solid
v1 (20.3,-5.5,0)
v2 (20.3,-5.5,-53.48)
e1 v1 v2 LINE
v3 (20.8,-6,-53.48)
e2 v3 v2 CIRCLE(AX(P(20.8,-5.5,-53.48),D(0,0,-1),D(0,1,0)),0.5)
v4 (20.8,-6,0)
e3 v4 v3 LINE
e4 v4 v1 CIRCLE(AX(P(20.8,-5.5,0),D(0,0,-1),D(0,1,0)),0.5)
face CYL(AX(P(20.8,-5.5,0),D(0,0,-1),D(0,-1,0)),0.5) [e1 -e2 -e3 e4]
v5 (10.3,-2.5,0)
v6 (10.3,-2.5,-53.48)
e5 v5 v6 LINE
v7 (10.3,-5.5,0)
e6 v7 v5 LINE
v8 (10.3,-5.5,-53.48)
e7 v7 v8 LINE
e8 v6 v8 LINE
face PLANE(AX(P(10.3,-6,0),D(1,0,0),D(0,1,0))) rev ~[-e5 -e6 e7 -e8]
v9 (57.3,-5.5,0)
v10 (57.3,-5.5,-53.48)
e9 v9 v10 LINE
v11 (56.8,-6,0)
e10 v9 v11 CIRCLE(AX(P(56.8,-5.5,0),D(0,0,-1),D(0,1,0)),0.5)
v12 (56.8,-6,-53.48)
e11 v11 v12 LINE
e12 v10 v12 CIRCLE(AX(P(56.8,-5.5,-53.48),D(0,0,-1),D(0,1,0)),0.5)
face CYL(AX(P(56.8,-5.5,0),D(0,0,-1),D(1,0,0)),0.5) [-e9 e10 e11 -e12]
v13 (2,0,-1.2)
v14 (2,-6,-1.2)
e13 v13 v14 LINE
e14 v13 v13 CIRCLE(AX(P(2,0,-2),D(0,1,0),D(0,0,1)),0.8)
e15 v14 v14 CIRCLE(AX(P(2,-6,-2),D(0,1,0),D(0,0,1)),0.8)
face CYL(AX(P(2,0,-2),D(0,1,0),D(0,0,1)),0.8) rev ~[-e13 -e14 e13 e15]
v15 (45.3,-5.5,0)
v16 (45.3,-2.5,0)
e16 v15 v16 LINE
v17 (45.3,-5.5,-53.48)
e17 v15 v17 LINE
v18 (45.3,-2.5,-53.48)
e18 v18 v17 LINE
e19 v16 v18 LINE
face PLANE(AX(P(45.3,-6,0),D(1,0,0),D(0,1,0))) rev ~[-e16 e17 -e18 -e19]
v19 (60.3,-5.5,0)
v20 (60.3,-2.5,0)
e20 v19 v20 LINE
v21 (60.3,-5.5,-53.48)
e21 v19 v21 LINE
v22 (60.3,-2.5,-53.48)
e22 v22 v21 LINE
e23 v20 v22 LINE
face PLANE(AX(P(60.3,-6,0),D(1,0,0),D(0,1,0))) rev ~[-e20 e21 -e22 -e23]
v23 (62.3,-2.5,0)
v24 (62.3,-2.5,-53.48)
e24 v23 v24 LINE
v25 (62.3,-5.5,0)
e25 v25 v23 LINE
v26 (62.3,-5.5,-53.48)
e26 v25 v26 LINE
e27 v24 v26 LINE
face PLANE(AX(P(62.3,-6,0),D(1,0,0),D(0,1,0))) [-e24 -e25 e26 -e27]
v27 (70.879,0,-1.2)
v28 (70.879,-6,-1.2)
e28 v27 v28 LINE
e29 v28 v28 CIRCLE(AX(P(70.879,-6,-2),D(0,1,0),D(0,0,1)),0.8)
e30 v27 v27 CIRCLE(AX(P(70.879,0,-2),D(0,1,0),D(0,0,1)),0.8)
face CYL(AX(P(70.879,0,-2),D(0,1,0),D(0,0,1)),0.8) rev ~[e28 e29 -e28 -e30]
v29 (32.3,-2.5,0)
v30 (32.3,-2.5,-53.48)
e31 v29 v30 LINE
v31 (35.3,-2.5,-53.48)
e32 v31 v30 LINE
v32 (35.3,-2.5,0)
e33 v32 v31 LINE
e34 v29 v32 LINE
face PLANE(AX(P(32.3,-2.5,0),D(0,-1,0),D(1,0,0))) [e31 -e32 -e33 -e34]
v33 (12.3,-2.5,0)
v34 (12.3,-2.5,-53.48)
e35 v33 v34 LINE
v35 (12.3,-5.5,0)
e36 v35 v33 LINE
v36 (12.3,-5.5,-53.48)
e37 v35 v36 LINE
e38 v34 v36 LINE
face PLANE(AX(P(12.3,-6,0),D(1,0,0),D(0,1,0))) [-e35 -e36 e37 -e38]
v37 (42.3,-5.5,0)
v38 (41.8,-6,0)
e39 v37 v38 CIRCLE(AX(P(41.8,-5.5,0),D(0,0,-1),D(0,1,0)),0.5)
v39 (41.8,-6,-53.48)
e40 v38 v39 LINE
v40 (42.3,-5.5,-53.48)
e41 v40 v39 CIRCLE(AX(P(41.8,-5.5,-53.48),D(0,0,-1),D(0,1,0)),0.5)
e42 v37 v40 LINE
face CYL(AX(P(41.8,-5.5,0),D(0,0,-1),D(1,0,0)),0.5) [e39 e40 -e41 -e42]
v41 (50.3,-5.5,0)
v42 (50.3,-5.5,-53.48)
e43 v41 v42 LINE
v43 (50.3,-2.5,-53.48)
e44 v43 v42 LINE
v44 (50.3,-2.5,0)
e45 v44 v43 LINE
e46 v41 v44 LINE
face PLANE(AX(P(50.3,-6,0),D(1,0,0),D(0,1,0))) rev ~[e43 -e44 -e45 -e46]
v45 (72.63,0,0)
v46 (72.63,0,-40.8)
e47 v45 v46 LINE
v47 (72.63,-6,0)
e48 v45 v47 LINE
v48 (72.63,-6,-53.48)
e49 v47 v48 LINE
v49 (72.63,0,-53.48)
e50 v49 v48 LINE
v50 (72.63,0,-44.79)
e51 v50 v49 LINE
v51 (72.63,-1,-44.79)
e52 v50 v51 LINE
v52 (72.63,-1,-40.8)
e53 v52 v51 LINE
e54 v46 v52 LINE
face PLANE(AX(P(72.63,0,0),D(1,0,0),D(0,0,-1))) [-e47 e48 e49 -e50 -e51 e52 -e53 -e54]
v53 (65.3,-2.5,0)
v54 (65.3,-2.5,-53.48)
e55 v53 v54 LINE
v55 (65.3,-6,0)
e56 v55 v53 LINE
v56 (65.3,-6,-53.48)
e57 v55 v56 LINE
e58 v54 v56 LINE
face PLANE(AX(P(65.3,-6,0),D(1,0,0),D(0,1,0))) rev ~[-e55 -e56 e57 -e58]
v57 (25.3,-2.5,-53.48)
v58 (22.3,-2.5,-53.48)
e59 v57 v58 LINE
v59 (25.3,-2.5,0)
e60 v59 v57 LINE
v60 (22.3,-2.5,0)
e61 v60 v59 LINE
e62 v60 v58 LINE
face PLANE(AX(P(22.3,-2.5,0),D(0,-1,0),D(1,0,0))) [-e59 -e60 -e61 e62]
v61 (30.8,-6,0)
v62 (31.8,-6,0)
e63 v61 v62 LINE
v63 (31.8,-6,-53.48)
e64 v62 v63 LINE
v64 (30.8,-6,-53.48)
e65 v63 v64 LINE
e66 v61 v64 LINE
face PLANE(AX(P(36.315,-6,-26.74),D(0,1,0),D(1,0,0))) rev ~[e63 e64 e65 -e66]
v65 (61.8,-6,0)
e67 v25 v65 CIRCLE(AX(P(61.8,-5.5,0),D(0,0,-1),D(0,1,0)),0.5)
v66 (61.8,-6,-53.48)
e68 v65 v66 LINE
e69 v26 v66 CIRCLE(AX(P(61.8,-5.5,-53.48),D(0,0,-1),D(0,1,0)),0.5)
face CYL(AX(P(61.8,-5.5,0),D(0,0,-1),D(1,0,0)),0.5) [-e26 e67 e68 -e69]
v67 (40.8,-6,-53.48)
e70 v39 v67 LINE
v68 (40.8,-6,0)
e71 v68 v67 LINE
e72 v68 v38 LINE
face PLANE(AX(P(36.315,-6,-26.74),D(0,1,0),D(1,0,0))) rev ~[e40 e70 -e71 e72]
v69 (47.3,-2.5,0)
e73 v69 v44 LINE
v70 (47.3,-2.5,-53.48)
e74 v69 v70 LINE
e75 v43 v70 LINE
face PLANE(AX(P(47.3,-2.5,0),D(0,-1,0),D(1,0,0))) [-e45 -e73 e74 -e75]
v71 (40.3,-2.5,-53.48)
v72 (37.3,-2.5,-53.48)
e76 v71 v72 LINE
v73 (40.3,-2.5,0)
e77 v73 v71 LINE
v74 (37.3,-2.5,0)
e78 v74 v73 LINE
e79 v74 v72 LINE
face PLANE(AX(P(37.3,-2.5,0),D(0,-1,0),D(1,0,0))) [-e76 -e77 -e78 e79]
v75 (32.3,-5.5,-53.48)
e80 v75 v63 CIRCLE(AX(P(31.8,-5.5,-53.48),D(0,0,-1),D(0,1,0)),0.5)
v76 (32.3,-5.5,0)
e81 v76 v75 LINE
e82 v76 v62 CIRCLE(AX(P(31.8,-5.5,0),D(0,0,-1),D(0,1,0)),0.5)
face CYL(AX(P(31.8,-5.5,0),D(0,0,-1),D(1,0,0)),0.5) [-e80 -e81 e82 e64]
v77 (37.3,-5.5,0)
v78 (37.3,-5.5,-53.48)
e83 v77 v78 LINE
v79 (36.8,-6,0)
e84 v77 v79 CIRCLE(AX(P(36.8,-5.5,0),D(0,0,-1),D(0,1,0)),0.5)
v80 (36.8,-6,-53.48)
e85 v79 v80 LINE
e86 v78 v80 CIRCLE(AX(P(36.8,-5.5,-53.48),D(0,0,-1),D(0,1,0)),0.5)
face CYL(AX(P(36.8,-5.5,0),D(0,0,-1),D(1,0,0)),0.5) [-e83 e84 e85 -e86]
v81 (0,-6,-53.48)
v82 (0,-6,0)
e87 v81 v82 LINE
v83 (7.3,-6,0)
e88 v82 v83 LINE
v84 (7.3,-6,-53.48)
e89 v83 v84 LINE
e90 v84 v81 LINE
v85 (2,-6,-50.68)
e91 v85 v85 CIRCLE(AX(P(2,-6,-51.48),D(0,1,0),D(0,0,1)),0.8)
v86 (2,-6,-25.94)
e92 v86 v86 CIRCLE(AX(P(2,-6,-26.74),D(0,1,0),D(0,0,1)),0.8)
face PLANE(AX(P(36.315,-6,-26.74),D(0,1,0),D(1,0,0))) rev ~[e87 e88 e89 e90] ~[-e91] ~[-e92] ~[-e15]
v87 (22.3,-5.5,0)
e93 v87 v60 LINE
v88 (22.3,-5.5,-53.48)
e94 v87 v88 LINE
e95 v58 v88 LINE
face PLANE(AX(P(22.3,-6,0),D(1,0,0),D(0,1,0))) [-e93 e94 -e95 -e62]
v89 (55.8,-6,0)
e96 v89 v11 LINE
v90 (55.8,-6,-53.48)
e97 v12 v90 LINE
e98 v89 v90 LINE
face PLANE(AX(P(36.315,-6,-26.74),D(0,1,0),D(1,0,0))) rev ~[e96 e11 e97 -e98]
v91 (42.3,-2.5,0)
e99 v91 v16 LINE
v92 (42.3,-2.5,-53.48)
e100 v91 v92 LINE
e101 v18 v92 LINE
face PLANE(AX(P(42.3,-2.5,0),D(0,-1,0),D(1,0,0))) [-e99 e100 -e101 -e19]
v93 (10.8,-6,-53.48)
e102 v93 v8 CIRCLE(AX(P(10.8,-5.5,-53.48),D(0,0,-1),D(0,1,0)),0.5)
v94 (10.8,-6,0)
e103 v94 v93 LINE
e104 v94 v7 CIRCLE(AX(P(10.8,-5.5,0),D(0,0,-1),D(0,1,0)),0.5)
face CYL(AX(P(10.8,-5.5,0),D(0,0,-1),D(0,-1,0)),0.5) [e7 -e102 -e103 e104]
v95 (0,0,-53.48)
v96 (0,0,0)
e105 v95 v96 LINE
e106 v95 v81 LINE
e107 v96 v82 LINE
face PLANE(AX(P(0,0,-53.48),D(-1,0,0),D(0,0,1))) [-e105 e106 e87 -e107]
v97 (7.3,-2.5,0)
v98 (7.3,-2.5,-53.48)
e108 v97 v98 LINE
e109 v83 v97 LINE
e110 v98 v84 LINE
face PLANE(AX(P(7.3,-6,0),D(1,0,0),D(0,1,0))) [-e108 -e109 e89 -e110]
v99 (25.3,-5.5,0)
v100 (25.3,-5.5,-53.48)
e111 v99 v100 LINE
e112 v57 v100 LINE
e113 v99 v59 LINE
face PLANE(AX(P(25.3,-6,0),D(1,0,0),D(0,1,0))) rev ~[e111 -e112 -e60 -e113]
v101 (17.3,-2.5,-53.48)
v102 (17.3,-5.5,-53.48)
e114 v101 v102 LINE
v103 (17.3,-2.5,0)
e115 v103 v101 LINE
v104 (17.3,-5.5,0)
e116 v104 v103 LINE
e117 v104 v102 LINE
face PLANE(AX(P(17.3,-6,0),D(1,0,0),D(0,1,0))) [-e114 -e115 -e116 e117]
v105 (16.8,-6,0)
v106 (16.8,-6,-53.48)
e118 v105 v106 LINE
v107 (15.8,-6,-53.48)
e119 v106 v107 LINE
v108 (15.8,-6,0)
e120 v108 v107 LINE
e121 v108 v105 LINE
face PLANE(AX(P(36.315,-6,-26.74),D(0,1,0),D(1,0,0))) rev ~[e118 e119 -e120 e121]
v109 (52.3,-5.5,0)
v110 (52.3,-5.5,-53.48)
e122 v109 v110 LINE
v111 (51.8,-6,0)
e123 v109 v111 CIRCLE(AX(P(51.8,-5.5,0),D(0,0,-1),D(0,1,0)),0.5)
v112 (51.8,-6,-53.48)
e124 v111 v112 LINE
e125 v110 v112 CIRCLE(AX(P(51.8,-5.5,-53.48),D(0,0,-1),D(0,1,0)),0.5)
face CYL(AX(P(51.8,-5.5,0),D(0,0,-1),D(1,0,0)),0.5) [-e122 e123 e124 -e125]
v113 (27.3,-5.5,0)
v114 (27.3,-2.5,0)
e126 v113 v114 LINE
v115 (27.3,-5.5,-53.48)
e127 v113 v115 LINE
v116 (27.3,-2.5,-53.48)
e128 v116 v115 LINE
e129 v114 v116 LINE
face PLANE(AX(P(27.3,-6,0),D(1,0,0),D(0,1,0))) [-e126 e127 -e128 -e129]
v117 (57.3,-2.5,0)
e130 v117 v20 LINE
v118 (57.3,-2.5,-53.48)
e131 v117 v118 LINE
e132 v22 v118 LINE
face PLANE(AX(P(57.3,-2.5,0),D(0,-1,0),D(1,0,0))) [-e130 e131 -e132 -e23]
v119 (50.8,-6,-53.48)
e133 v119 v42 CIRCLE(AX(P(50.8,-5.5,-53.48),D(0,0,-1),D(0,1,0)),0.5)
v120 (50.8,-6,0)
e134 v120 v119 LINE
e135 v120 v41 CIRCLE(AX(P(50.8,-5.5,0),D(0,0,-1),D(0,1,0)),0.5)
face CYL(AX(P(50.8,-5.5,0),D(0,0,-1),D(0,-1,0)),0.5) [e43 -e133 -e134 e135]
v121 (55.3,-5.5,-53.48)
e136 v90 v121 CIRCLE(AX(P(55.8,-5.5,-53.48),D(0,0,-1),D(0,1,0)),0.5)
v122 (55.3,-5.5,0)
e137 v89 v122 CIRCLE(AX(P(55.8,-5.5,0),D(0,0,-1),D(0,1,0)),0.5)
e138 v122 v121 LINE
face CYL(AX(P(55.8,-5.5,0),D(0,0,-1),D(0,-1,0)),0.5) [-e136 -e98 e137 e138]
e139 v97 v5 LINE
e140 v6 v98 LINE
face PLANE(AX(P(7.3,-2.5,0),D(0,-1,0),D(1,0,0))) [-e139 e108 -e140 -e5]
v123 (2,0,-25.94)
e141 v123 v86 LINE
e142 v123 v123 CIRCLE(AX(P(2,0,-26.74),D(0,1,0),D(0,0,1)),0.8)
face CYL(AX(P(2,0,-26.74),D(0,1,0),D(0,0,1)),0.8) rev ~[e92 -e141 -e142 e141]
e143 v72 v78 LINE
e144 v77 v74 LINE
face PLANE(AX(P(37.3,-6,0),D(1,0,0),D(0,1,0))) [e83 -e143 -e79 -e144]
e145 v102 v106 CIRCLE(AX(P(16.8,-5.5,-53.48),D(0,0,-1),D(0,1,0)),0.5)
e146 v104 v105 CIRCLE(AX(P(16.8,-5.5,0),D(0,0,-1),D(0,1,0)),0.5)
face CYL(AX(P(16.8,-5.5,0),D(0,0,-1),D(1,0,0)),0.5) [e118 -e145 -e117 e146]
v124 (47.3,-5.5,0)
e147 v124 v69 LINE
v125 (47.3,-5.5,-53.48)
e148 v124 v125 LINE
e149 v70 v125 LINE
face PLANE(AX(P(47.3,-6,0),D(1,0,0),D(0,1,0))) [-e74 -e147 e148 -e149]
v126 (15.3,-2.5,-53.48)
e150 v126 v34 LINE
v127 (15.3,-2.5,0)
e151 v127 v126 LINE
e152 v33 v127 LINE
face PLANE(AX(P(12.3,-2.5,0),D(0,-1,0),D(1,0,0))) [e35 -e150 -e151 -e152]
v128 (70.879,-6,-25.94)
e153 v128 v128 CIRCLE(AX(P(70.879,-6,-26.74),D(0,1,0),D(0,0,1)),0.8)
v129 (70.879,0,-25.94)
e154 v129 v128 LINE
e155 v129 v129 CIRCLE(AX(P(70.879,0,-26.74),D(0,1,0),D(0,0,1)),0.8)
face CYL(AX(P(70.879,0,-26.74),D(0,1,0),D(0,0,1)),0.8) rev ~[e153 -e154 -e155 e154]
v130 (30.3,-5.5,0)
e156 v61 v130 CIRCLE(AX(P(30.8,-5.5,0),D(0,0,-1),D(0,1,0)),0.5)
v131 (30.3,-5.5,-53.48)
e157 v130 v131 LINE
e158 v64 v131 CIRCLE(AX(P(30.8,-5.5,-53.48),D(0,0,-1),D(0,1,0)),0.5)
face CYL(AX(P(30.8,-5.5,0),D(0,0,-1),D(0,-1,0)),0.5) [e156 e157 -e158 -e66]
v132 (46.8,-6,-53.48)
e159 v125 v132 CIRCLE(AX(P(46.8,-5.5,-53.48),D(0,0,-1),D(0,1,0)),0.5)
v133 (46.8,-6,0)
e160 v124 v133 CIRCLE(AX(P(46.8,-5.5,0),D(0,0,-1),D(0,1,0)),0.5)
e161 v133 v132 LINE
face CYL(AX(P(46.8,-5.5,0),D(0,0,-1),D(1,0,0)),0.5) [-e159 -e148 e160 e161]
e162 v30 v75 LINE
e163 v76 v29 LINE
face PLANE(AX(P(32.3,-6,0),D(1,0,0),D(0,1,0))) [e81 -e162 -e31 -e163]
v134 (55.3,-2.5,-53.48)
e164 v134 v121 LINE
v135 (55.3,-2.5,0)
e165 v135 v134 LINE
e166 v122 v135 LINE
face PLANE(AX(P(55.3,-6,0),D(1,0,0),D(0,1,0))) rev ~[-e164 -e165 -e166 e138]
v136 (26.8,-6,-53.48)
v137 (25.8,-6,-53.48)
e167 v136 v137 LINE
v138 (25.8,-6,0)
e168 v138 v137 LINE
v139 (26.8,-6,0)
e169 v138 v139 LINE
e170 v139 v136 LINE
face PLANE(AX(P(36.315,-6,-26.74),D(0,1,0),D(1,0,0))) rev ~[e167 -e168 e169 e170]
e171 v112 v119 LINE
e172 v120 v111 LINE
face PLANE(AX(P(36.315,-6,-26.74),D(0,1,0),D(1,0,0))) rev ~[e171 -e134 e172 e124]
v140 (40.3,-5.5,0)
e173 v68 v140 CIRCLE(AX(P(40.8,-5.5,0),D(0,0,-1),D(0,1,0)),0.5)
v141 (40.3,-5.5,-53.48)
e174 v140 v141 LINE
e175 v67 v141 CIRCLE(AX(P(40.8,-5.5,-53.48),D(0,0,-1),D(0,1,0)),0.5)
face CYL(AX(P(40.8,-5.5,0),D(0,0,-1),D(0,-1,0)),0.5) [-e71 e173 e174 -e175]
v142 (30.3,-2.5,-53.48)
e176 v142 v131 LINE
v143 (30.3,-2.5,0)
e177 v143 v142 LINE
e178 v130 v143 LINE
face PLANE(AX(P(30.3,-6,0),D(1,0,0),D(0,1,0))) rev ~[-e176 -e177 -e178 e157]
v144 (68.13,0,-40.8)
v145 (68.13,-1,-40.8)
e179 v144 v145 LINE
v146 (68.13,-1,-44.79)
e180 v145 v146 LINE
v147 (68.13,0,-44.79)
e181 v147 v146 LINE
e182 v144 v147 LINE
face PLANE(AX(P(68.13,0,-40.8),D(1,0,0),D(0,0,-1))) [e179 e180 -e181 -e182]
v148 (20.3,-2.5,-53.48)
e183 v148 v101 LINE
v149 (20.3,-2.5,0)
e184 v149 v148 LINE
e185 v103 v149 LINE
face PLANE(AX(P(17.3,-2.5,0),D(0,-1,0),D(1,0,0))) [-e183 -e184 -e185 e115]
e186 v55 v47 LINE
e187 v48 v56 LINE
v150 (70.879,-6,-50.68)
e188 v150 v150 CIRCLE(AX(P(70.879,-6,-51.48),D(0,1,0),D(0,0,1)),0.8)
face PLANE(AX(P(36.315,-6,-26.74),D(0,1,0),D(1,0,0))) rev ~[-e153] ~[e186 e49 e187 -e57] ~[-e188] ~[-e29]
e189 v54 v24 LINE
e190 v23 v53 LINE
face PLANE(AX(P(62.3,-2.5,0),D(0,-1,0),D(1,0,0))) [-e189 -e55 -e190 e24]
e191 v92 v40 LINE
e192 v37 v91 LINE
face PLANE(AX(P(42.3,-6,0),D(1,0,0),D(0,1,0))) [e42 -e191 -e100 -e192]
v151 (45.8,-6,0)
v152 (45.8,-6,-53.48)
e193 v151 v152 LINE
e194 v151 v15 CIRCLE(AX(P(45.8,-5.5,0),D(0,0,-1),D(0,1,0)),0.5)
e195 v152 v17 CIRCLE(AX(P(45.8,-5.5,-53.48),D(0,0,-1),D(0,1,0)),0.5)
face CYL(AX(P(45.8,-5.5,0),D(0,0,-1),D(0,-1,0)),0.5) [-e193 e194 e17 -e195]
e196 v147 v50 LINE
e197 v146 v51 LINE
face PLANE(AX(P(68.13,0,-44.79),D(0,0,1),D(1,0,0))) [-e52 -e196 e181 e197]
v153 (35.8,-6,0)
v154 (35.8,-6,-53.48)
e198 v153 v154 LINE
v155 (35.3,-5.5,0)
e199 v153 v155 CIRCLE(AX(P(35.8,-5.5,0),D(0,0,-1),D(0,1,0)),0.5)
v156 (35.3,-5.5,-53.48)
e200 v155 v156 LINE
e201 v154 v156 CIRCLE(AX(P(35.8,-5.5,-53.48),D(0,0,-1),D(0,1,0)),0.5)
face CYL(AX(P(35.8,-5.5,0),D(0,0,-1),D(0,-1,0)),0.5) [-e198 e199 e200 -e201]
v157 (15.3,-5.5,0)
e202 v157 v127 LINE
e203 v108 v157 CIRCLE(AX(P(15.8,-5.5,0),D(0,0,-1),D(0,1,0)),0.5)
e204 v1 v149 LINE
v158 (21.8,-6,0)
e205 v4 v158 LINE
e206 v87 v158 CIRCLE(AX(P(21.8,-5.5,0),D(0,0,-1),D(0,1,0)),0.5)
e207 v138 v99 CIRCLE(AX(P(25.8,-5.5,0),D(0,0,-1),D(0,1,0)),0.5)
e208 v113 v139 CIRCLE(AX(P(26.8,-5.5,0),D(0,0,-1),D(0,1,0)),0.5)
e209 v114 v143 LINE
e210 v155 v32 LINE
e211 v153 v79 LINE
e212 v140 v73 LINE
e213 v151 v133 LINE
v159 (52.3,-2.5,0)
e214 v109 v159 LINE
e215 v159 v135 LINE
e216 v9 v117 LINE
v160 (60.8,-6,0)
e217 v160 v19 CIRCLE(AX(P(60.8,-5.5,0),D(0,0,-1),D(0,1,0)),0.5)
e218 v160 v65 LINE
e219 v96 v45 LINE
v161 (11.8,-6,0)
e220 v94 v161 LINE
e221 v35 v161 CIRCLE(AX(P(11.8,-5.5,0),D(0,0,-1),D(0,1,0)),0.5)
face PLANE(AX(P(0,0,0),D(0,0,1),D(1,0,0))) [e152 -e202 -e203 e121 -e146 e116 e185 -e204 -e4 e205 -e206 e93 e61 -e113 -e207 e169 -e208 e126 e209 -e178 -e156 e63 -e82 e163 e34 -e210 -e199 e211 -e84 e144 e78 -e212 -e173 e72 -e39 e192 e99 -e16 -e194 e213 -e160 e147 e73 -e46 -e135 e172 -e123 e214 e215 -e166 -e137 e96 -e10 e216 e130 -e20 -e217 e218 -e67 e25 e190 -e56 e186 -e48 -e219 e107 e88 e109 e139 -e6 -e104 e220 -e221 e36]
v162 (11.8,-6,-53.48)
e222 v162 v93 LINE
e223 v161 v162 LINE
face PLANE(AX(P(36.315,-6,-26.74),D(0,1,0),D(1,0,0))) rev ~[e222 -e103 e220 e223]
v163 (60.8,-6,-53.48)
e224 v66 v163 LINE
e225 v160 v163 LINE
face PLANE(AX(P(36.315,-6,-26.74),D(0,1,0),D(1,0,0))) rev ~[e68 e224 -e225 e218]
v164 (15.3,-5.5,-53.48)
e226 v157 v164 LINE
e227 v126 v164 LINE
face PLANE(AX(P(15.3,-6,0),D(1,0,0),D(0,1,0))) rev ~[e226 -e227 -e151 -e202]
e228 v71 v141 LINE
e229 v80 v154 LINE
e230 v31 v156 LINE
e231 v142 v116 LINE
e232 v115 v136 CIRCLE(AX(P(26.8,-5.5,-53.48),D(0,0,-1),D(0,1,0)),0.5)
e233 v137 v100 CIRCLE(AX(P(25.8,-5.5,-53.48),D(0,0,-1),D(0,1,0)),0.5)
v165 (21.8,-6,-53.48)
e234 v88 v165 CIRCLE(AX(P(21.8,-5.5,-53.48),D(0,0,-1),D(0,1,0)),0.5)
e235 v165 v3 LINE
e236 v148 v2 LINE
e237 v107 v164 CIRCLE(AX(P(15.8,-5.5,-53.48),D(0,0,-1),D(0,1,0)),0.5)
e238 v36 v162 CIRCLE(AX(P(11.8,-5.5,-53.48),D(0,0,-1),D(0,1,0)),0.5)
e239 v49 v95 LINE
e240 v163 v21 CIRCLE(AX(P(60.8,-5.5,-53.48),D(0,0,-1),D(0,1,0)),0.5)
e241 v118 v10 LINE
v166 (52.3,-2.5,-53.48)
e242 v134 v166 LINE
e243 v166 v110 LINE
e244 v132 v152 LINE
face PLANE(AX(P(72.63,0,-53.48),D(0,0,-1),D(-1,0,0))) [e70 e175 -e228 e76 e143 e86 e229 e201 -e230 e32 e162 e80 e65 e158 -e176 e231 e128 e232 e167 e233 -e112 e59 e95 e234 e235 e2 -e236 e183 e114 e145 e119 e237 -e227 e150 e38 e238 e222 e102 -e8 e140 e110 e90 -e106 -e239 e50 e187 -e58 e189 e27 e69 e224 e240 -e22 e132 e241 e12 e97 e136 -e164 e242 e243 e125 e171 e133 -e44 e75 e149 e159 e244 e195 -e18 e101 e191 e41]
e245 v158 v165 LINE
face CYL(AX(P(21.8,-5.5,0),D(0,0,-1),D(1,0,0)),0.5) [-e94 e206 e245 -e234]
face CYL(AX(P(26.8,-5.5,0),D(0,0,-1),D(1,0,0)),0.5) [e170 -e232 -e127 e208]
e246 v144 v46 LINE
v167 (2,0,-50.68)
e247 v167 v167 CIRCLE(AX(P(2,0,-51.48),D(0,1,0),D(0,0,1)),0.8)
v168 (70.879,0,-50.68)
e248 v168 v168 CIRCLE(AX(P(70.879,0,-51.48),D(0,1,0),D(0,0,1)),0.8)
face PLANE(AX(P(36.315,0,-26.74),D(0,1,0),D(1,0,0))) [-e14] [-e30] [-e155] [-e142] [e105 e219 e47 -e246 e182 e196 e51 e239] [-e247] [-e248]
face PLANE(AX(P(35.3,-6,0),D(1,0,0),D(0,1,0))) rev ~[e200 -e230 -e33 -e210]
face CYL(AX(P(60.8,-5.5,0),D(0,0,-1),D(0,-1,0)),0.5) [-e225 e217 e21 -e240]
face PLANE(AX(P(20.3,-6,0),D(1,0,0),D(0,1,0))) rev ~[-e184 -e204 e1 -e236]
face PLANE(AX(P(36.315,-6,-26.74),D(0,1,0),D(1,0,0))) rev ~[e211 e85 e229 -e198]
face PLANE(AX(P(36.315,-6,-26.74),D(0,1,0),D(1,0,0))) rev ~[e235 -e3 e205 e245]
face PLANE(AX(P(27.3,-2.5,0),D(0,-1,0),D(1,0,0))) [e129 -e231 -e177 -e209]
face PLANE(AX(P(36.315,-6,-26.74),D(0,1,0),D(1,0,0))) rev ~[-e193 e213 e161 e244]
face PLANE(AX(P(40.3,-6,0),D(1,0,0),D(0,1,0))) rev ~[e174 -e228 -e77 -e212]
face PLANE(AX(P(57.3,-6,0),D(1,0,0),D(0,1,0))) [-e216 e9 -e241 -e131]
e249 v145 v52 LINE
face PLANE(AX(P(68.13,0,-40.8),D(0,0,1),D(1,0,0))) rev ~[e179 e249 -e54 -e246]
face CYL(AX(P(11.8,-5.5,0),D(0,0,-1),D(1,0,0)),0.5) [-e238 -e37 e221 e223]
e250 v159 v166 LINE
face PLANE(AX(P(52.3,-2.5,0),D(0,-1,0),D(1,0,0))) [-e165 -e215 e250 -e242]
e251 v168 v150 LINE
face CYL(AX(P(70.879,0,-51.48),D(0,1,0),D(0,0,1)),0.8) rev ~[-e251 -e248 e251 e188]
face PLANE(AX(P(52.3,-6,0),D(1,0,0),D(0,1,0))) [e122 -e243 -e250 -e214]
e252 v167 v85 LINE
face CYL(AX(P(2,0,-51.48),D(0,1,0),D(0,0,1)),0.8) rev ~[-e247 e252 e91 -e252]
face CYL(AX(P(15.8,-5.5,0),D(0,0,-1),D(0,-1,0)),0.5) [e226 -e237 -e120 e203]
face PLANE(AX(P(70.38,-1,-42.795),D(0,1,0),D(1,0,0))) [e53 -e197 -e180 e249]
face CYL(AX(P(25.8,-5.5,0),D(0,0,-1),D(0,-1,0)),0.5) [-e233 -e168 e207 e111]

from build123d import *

# Parameters (mm, degrees)
EXTRUDE_2_DEPTH     = 6
SKETCH_1_6_W        = 4.5
SKETCH_1_6_H        = 3.99
CUT_EXTRUDE_1_DEPTH = 1
SKETCH_1_7_R        = 0.8
CUT_EXTRUDE_2_DEPTH = 6
SKETCH_1_8_R        = 0.8
CUT_EXTRUDE_3_DEPTH = 6
SKETCH_2_W          = 3
SKETCH_2_H          = 3.5
CUT_EXTRUDE_5_DEPTH = 60
FILLET_1_R          = 0.5


with BuildPart() as part:
    # 草图1 → 凸台-拉伸2 (new body)
    with BuildSketch(Plane(origin=(0, 0, 0), x_dir=(1, 0, 0), z_dir=(0, 1, 0))):
        Polygon((0, 0), (72.63, 0), (72.63, 40.8), (72.63, 44.79), (72.63, 53.48), (0, 53.48), align=None)
    extrude(amount=-EXTRUDE_2_DEPTH)

    # 草图1<6> → 切除-拉伸1 (cut)
    with BuildSketch(Plane(origin=(0, 0, 0), x_dir=(1, 0, 0), z_dir=(0, 1, 0))):
        with Locations((70.38, 42.795)):
            Rectangle(SKETCH_1_6_W, SKETCH_1_6_H)
    extrude(amount=-CUT_EXTRUDE_1_DEPTH, mode=Mode.SUBTRACT)

    # 草图1<7> → 切除-拉伸2 (cut)
    with BuildSketch(Plane(origin=(0, 0, 0), x_dir=(1, 0, 0), z_dir=(0, 1, 0))):
        with Locations((2, 2)):
            Circle(SKETCH_1_7_R)
        with Locations((70.879, 2)):
            Circle(SKETCH_1_7_R)
        with Locations((2, 51.48)):
            Circle(SKETCH_1_7_R)
        with Locations((70.879, 51.48)):
            Circle(SKETCH_1_7_R)
    extrude(amount=-CUT_EXTRUDE_2_DEPTH, mode=Mode.SUBTRACT)

    # 草图1<8> → 切除-拉伸3 (cut)
    with BuildSketch(Plane(origin=(0, 0, 0), x_dir=(1, 0, 0), z_dir=(0, 1, 0))):
        with Locations((2, 26.74)):
            Circle(SKETCH_1_8_R)
        with Locations((70.879, 26.74)):
            Circle(SKETCH_1_8_R)
    extrude(amount=-CUT_EXTRUDE_3_DEPTH, mode=Mode.SUBTRACT)

    # 草图2 → 切除-拉伸5 (cut)
    with BuildSketch(Plane.XY):
        with Locations((63.8, -4.25)):
            Rectangle(SKETCH_2_W, SKETCH_2_H)
        with Locations((58.8, -4.25)):
            Rectangle(SKETCH_2_W, SKETCH_2_H)
        with Locations((53.8, -4.25)):
            Rectangle(SKETCH_2_W, SKETCH_2_H)
        with Locations((48.8, -4.25)):
            Rectangle(SKETCH_2_W, SKETCH_2_H)
        with Locations((43.8, -4.25)):
            Rectangle(SKETCH_2_W, SKETCH_2_H)
        with Locations((38.8, -4.25)):
            Rectangle(SKETCH_2_W, SKETCH_2_H)
        with Locations((33.8, -4.25)):
            Rectangle(SKETCH_2_W, SKETCH_2_H)
        with Locations((28.8, -4.25)):
            Rectangle(SKETCH_2_W, SKETCH_2_H)
        with Locations((23.8, -4.25)):
            Rectangle(SKETCH_2_W, SKETCH_2_H)
        with Locations((18.8, -4.25)):
            Rectangle(SKETCH_2_W, SKETCH_2_H)
        with Locations((13.8, -4.25)):
            Rectangle(SKETCH_2_W, SKETCH_2_H)
        with Locations((8.8, -4.25)):
            Rectangle(SKETCH_2_W, SKETCH_2_H)
    extrude(amount=-CUT_EXTRUDE_5_DEPTH, mode=Mode.SUBTRACT)

    # 圆角1
    fillet_1_edges = [part.edges().sort_by_distance(p)[0] for p in [
        (12.3, -6, -26.74),
        (10.3, -6, -26.74),
        (15.3, -6, -26.74),
        (17.3, -6, -26.74),
        (20.3, -6, -26.74),
        (22.3, -6, -26.74),
        (25.3, -6, -26.74),
        (27.3, -6, -26.74),
        (30.3, -6, -26.74),
        (32.3, -6, -26.74),
        (35.3, -6, -26.74),
        (37.3, -6, -26.74),
        (40.3, -6, -26.74),
        (42.3, -6, -26.74),
        (45.3, -6, -26.74),
        (47.3, -6, -26.74),
        (50.3, -6, -26.74),
        (52.3, -6, -26.74),
        (55.3, -6, -26.74),
        (57.3, -6, -26.74),
        (60.3, -6, -26.74),
        (62.3, -6, -26.74),
    ]]
    fillet(fillet_1_edges, radius=FILLET_1_R)


solid = part.part
